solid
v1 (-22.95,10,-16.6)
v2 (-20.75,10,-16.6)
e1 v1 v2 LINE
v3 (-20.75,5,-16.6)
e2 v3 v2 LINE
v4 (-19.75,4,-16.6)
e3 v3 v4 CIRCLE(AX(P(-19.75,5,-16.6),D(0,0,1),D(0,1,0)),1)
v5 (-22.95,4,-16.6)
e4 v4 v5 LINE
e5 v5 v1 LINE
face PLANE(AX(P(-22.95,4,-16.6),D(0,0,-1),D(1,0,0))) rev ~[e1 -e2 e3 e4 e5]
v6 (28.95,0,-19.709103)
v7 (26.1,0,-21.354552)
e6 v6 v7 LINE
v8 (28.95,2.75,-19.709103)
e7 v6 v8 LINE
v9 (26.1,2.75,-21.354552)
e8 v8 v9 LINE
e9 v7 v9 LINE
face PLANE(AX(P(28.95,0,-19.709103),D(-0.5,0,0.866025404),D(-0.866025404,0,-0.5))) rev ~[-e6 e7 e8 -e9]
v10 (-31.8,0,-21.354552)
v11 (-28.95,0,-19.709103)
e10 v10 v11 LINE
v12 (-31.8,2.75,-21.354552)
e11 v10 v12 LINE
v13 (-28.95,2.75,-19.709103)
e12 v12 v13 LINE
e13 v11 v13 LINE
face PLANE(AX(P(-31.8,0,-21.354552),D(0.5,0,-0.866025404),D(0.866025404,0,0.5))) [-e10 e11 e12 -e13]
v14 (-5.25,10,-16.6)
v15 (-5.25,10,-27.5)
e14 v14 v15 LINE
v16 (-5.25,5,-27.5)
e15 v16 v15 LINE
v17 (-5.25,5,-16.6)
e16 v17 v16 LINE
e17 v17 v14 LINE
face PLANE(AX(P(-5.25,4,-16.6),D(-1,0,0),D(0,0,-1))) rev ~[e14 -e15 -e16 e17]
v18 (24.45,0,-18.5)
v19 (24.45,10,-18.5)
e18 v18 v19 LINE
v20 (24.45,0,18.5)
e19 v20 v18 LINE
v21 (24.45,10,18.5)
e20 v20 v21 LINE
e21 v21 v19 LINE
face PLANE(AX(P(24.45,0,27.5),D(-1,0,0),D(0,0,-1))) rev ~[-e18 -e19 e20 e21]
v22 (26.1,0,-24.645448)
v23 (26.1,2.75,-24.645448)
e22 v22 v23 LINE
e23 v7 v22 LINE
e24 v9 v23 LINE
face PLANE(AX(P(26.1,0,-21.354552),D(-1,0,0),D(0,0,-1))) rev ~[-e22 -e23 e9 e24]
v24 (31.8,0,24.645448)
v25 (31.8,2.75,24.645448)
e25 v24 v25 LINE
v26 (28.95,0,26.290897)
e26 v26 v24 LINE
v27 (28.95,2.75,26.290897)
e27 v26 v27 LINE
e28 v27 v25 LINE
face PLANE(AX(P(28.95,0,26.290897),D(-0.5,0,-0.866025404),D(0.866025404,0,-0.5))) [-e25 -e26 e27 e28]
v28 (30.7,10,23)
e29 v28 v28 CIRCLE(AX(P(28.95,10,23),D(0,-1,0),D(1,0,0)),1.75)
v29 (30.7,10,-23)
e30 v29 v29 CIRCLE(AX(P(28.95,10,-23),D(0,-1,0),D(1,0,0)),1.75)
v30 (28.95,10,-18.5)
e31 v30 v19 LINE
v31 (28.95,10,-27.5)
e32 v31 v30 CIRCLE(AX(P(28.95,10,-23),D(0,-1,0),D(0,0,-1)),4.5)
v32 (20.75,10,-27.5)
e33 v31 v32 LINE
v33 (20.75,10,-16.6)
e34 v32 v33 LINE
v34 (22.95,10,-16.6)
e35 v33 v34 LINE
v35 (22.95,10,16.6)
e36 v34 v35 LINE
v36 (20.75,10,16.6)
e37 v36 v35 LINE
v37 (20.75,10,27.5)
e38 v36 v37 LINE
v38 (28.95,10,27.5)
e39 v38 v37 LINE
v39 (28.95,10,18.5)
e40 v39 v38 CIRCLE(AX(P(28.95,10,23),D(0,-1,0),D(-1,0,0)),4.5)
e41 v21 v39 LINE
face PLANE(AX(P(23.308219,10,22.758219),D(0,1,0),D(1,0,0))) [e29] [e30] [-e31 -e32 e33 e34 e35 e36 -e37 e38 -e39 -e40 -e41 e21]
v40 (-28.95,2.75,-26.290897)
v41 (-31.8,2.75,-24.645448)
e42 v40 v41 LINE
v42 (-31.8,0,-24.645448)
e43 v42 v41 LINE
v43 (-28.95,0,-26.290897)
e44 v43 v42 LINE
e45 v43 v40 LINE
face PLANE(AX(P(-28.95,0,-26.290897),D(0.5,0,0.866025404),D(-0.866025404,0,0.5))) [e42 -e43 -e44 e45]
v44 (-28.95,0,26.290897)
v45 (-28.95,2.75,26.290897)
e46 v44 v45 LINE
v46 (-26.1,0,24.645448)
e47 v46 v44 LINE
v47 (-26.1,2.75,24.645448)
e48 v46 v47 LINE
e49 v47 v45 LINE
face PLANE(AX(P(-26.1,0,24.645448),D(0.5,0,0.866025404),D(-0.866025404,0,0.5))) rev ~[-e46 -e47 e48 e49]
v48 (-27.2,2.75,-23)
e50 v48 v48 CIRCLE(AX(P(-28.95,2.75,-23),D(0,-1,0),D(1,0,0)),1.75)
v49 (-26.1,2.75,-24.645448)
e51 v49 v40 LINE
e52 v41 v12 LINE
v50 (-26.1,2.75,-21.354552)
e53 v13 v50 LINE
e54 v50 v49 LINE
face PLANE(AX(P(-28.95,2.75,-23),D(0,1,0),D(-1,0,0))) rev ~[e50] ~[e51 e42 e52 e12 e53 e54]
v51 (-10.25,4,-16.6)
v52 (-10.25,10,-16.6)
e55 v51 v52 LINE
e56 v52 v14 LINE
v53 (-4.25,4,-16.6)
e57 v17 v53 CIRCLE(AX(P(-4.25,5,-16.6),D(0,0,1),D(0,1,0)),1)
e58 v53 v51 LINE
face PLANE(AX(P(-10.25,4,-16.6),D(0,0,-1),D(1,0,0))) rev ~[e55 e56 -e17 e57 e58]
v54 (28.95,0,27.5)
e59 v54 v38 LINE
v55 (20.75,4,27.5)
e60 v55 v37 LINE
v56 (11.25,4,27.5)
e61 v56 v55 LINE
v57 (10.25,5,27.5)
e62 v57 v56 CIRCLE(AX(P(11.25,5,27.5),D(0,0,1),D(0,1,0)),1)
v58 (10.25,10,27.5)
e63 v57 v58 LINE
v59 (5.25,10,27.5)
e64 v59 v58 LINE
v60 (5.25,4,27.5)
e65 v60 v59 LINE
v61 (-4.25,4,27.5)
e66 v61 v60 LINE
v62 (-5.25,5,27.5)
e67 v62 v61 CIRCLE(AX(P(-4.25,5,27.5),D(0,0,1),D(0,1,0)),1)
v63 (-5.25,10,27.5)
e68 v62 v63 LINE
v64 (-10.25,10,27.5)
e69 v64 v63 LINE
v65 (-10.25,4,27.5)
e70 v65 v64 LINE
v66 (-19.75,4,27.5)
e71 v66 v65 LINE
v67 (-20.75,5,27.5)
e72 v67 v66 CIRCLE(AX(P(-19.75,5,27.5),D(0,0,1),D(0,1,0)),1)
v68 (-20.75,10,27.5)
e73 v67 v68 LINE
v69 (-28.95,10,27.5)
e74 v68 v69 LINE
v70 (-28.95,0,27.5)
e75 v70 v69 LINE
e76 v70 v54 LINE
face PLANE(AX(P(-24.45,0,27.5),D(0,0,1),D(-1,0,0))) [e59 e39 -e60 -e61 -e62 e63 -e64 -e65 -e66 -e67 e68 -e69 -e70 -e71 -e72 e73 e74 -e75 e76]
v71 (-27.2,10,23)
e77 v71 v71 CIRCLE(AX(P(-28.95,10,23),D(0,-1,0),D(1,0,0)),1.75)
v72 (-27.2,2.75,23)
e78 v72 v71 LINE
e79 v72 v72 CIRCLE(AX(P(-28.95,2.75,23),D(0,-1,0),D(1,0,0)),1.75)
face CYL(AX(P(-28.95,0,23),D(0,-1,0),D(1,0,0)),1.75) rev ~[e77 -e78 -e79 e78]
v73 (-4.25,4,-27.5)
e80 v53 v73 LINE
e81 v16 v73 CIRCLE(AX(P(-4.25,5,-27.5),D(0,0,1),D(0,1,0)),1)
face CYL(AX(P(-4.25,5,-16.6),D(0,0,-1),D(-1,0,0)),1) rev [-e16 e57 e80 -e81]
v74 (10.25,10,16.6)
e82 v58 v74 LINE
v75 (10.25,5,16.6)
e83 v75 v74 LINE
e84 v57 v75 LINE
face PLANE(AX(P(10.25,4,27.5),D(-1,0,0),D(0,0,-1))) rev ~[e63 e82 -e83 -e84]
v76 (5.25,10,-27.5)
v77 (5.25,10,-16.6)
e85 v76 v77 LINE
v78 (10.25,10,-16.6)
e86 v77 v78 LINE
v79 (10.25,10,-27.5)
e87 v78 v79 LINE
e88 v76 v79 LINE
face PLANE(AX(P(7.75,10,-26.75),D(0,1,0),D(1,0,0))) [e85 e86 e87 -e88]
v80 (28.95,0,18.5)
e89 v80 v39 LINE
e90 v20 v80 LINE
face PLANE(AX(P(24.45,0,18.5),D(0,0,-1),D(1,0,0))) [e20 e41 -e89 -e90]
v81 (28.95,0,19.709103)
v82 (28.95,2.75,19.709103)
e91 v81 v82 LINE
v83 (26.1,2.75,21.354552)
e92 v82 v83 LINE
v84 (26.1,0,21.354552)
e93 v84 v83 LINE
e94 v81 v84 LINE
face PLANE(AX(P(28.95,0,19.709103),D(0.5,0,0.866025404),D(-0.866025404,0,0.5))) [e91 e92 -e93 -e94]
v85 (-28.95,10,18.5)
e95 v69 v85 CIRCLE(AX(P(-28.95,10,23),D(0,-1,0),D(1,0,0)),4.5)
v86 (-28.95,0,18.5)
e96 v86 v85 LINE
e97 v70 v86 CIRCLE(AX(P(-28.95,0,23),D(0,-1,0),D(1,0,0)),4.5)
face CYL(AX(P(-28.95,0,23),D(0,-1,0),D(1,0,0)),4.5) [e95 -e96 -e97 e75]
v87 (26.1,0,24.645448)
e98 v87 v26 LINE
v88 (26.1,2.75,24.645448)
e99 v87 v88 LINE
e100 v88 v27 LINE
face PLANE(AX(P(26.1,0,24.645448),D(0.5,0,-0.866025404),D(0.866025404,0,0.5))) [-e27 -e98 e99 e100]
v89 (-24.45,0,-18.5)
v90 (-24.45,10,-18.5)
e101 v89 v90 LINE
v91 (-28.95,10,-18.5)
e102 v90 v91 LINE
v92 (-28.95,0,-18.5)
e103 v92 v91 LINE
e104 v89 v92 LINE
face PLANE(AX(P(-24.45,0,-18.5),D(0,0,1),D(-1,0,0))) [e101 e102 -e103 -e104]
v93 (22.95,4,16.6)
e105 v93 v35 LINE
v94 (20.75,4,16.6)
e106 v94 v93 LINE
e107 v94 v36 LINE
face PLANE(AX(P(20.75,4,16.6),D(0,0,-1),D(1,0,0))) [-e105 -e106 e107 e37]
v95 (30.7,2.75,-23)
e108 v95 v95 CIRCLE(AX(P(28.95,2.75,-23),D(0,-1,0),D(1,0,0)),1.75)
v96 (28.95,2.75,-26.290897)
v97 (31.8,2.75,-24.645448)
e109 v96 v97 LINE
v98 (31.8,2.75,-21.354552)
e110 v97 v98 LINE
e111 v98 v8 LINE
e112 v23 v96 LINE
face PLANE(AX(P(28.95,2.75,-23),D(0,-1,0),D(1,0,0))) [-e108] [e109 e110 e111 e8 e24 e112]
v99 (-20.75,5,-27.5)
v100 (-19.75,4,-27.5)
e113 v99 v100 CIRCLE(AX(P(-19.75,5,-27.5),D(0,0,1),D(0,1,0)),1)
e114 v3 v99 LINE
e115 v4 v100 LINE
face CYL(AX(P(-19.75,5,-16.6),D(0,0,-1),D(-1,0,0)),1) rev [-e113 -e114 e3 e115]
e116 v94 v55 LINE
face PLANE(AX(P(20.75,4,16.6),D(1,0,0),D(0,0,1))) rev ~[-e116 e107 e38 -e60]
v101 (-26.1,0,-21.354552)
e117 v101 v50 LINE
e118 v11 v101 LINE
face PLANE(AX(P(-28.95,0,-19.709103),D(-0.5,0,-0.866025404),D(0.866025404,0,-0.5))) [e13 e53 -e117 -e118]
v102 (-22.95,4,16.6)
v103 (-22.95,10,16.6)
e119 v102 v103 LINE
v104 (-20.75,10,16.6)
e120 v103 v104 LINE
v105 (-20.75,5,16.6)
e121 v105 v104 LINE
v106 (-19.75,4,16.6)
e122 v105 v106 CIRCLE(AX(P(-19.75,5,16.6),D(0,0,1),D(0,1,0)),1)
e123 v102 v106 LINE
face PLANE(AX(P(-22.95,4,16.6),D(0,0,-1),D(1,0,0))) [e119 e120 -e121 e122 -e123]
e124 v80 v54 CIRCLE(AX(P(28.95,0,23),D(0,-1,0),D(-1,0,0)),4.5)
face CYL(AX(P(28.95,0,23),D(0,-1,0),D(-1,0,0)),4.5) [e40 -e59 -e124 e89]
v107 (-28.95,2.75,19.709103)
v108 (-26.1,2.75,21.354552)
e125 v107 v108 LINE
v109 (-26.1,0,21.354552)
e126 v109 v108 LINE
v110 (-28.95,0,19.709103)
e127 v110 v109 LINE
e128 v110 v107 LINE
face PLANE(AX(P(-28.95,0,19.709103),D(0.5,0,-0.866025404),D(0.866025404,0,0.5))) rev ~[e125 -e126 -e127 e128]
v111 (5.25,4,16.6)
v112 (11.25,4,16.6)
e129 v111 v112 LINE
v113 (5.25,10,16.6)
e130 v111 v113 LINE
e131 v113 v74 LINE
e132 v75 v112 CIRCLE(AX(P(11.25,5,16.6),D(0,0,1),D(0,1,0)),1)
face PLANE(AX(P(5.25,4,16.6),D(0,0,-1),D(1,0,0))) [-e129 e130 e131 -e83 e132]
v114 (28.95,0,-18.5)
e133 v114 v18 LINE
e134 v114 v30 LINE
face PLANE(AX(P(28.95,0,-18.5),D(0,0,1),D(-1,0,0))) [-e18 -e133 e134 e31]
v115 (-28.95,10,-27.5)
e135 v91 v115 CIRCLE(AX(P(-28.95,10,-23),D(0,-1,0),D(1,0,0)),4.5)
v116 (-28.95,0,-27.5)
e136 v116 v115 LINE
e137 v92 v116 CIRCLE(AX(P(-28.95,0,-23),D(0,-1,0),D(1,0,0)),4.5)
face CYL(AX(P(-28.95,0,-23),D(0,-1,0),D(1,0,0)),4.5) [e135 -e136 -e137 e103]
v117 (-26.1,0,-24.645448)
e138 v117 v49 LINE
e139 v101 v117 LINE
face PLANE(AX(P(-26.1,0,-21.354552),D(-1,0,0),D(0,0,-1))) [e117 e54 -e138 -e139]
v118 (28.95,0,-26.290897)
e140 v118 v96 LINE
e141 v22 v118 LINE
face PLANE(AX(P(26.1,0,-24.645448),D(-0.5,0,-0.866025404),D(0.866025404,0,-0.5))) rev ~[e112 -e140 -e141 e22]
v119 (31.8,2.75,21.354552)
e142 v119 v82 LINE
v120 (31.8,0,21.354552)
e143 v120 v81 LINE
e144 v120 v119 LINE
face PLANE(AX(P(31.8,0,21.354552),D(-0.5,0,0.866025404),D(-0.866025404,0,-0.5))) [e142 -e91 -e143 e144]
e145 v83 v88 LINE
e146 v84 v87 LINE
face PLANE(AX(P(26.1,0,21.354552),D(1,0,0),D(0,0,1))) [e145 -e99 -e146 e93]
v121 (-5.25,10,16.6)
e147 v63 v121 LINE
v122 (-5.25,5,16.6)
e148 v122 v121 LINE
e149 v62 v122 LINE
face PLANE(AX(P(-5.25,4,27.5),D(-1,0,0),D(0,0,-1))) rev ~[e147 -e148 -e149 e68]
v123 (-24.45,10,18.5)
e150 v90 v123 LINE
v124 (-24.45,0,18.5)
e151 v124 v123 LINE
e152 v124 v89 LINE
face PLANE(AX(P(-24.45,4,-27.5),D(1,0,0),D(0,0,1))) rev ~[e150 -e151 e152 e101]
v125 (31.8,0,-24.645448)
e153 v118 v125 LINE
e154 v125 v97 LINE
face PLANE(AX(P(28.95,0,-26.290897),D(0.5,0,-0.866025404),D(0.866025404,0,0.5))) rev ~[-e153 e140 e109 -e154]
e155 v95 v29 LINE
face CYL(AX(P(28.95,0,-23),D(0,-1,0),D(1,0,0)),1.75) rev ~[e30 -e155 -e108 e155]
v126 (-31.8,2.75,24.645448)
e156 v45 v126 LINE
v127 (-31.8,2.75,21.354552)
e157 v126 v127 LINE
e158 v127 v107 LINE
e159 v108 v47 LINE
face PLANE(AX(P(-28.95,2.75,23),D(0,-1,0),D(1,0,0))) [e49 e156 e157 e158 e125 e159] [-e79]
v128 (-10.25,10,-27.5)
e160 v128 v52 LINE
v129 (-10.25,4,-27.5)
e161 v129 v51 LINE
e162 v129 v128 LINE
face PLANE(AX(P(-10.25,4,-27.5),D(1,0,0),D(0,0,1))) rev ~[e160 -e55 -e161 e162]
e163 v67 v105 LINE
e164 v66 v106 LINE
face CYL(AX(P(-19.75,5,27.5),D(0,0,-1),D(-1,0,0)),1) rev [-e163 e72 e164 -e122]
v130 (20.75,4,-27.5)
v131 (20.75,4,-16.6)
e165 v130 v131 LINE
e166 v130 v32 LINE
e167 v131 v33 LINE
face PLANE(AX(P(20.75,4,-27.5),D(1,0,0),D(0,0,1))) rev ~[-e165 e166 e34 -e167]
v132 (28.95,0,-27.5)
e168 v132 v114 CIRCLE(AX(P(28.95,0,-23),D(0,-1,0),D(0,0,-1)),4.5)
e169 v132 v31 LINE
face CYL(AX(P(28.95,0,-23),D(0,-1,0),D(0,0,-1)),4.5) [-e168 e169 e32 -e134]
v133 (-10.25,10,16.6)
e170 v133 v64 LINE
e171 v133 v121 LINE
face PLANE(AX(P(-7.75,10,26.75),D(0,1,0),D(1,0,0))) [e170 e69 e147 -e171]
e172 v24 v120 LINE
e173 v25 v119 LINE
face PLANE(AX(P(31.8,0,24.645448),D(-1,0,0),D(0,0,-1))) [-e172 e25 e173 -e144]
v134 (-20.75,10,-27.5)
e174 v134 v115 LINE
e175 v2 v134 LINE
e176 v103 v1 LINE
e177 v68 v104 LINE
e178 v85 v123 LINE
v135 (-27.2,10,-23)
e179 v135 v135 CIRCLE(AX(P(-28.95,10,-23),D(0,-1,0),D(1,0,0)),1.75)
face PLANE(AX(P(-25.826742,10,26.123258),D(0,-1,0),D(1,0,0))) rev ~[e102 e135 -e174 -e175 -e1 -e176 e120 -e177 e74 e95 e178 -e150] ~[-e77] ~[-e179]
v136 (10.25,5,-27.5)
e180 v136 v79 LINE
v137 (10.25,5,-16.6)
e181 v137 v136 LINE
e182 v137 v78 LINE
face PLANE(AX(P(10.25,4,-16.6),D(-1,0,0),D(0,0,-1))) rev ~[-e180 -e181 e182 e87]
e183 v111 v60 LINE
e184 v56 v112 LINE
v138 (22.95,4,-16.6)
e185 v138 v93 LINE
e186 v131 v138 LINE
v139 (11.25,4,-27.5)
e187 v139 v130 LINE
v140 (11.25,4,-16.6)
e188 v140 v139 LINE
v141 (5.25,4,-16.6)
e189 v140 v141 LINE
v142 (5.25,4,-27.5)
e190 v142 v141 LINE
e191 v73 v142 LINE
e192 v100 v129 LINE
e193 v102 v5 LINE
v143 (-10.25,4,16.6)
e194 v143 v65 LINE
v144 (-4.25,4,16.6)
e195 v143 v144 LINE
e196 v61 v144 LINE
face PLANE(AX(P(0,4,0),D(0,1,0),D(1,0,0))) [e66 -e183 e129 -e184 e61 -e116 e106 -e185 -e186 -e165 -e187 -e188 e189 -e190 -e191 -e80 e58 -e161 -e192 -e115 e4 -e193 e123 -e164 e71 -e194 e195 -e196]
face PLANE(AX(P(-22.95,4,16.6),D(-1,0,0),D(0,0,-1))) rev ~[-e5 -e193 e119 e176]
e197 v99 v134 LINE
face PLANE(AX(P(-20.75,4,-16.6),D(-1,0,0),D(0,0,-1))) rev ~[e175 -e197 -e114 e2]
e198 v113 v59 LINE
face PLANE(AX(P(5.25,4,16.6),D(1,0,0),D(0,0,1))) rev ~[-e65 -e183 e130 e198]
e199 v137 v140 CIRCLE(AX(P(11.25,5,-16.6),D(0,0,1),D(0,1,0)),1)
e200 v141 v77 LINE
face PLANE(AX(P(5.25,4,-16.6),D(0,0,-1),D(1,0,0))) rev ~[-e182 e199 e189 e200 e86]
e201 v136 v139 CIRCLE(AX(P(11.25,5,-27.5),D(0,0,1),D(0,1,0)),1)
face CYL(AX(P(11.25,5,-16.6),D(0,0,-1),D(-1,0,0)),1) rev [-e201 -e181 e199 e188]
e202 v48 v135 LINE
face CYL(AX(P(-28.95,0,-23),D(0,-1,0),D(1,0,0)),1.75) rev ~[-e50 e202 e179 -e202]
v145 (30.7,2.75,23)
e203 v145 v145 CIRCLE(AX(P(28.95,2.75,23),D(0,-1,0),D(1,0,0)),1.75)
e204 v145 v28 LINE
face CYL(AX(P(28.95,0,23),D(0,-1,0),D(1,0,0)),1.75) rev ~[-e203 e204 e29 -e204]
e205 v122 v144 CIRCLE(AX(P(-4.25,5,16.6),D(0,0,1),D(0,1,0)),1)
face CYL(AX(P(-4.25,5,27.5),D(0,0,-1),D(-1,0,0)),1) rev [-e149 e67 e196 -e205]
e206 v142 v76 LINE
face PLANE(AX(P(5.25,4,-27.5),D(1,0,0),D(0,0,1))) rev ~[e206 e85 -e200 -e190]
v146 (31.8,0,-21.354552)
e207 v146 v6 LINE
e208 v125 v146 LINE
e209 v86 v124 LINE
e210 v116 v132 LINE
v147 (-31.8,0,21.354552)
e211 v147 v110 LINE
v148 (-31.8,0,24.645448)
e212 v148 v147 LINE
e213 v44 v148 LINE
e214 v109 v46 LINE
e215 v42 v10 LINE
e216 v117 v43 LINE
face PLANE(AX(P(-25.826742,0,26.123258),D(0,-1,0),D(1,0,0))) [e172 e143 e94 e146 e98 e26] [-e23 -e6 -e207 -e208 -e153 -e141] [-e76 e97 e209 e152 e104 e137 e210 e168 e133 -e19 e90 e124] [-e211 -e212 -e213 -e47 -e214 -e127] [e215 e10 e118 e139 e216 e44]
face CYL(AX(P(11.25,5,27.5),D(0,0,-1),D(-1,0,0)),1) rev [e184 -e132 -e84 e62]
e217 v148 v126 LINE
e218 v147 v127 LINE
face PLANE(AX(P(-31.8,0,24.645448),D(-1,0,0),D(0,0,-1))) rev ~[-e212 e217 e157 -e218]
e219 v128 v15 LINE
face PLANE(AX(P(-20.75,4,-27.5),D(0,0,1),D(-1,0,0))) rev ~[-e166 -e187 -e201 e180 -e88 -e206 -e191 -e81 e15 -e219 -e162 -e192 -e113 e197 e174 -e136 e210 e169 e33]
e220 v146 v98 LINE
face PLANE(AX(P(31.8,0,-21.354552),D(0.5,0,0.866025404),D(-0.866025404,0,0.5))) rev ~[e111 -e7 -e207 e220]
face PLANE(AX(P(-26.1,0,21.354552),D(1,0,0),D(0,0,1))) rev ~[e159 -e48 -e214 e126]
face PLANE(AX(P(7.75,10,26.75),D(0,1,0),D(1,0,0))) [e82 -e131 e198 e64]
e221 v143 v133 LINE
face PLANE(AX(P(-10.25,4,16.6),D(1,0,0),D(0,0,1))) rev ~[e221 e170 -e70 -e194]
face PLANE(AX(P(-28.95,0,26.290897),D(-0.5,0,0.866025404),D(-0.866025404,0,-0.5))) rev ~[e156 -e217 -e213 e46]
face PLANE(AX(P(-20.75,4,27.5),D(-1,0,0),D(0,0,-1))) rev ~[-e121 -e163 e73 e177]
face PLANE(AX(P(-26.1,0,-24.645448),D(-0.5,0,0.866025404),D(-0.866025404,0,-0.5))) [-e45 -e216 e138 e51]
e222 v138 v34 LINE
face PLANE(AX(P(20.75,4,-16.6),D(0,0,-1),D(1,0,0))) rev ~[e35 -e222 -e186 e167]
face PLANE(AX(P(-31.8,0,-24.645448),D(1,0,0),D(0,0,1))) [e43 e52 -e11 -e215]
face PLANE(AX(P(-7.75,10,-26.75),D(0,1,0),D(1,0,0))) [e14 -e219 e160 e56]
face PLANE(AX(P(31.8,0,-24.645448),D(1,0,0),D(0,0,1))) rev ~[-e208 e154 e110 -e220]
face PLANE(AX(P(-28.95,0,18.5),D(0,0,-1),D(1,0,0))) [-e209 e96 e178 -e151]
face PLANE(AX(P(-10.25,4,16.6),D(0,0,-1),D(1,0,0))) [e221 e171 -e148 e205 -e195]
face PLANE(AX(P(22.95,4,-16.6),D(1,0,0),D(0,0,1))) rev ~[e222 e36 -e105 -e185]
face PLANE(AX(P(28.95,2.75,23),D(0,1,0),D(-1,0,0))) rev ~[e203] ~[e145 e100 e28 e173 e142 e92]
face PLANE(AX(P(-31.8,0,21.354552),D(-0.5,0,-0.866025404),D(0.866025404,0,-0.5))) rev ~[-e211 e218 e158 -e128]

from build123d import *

# Parameters (mm, degrees)
SKETCH1_W           = 48.9
SKETCH1_H           = 55
SKETCH1_W_2         = 45.9
SKETCH1_H_2         = 9.4
SKETCH1_H_3         = 33.2
BOSS_EXTRUDE1_DEPTH = 4
SKETCH2_W           = 1.5
SKETCH2_H           = 33.2
SKETCH2_W_2         = 5
SKETCH2_H_2         = 1.5
SKETCH2_H_3         = 9.4
SKETCH2_W_3         = 2.2
BOSS_EXTRUDE2_DEPTH = 6
SKETCH4_R           = 4.5
SKETCH4_R_2         = 1.75
BOSS_EXTRUDE3_DEPTH = 10
FILLET1_R           = 1
CUT_EXTRUDE1_DEPTH  = 2.75


with BuildPart() as part:
    # Sketch1 → Boss-Extrude1 (new body)
    with BuildSketch(Plane(origin=(0, 0, 0), x_dir=(1, 0, 0), z_dir=(0, 1, 0))):
        Rectangle(SKETCH1_W, SKETCH1_H)
        Polygon((22.95, 26), (22.95, 16.6), (22.95, -16.6), (22.95, -26), (-22.95, -26), (-22.95, -16.6), (-22.95, 16.6), (-22.95, 26), align=None, mode=Mode.SUBTRACT)
        with Locations((0, 21.3)):
            Rectangle(SKETCH1_W_2, SKETCH1_H_2)
        Rectangle(SKETCH1_W_2, SKETCH1_H_3)
        with Locations((0, -21.3)):
            Rectangle(SKETCH1_W_2, SKETCH1_H_2)
    extrude(amount=BOSS_EXTRUDE1_DEPTH)

    # Sketch2 → Boss-Extrude2 (add)
    with BuildSketch(Plane(origin=(0, 4, 0), x_dir=(1, 0, 0), z_dir=(0, 1, 0))):
        Polygon((-24.45, 16.6), (-22.95, 16.6), (-22.95, 26), (-20.75, 26), (-20.75, 27.5), (-24.45, 27.5), align=None)
        with Locations((-23.7, 0)):
            Rectangle(SKETCH2_W, SKETCH2_H)
        Polygon((-22.95, -26), (-22.95, -16.6), (-24.45, -16.6), (-24.45, -27.5), (-20.75, -27.5), (-20.75, -26), align=None)
        with Locations((-7.75, -26.75)):
            Rectangle(SKETCH2_W_2, SKETCH2_H_2)
        with Locations((7.75, -26.75)):
            Rectangle(SKETCH2_W_2, SKETCH2_H_2)
        Polygon((24.45, -16.6), (22.95, -16.6), (22.95, -26), (20.75, -26), (20.75, -27.5), (24.45, -27.5), align=None)
        with Locations((23.7, 0)):
            Rectangle(SKETCH2_W, SKETCH2_H)
        Polygon((22.95, 26), (22.95, 16.6), (24.45, 16.6), (24.45, 27.5), (20.75, 27.5), (20.75, 26), align=None)
        with Locations((7.75, 26.75)):
            Rectangle(SKETCH2_W_2, SKETCH2_H_2)
        with Locations((-7.75, 26.75)):
            Rectangle(SKETCH2_W_2, SKETCH2_H_2)
        with Locations((-7.75, 21.3)):
            Rectangle(SKETCH2_W_2, SKETCH2_H_3)
        with Locations((7.75, 21.3)):
            Rectangle(SKETCH2_W_2, SKETCH2_H_3)
        with Locations((7.75, -21.3)):
            Rectangle(SKETCH2_W_2, SKETCH2_H_3)
        with Locations((-7.75, -21.3)):
            Rectangle(SKETCH2_W_2, SKETCH2_H_3)
        with Locations((-21.85, 21.3)):
            Rectangle(SKETCH2_W_3, SKETCH2_H_3)
        with Locations((21.85, 21.3)):
            Rectangle(SKETCH2_W_3, SKETCH2_H_3)
        with Locations((21.85, -21.3)):
            Rectangle(SKETCH2_W_3, SKETCH2_H_3)
        with Locations((-21.85, -21.3)):
            Rectangle(SKETCH2_W_3, SKETCH2_H_3)
    extrude(amount=BOSS_EXTRUDE2_DEPTH)

    # Sketch4 → Boss-Extrude3 (add)
    with BuildSketch(Plane.XZ):
        with BuildLine():
            Line((-24.45, 27.5), (-28.95, 27.5))
            ThreePointArc((-28.95, 27.5), (-25.768019485, 26.181980515), (-24.45, 23))
            Line((-24.45, 23), (-24.45, 27.5))
        make_face()
        with BuildLine():
            Line((-24.45, 18.5), (-24.45, 23))
            ThreePointArc((-24.45, 23), (-25.768019485, 19.818019485), (-28.95, 18.5))
            Line((-28.95, 18.5), (-24.45, 18.5))
        make_face()
        with Locations((-28.95, 23)):
            Circle(SKETCH4_R)
        with Locations((-28.95, 23)):
            Circle(SKETCH4_R_2, mode=Mode.SUBTRACT)
        with BuildLine():
            ThreePointArc((24.45, 22.999999999), (25.768019484, 26.181980515), (28.95, 27.5))
            Line((28.95, 27.5), (24.45, 27.5))
            Line((24.45, 27.5), (24.45, 22.999999999))
        make_face()
        with Locations((28.95, 23)):
            Circle(SKETCH4_R)
        with Locations((28.95, 23)):
            Circle(SKETCH4_R_2, mode=Mode.SUBTRACT)
        with BuildLine():
            ThreePointArc((28.95, 18.5), (25.768019485, 19.818019484), (24.45, 22.999999999))
            Line((24.45, 22.999999999), (24.45, 18.5))
            Line((24.45, 18.5), (28.95, 18.5))
        make_face()
        with Locations((28.95, -23)):
            Circle(SKETCH4_R)
        with Locations((28.95, -23)):
            Circle(SKETCH4_R_2, mode=Mode.SUBTRACT)
        with BuildLine():
            ThreePointArc((28.95, -27.5), (25.768019485, -26.181980515), (24.45, -23))
            Line((24.45, -23), (24.45, -27.5))
            Line((24.45, -27.5), (28.95, -27.5))
        make_face()
        with BuildLine():
            Line((28.95, -18.5), (24.45, -18.5))
            Line((24.45, -18.5), (24.45, -23))
            ThreePointArc((24.45, -23), (25.768019485, -19.818019485), (28.95, -18.5))
        make_face()
        with BuildLine():
            Line((-24.45, -27.5), (-24.45, -23))
            ThreePointArc((-24.45, -23), (-25.768019485, -26.181980515), (-28.95, -27.5))
            Line((-28.95, -27.5), (-24.45, -27.5))
        make_face()
        with BuildLine():
            Line((-24.45, -23), (-24.45, -18.5))
            Line((-24.45, -18.5), (-28.95, -18.5))
            ThreePointArc((-28.95, -18.5), (-25.768019485, -19.818019485), (-24.45, -23))
        make_face()
        with Locations((-28.95, -23)):
            Circle(SKETCH4_R)
        with Locations((-28.95, -23)):
            Circle(SKETCH4_R_2, mode=Mode.SUBTRACT)
    extrude(amount=-BOSS_EXTRUDE3_DEPTH)

    # Fillet1
    fillet1_edges = [part.edges().sort_by_distance(p)[0] for p in [
        (-5.25, 4, -22.05),
        (10.25, 4, -22.05),
        (10.25, 4, 22.05),
        (-5.25, 4, 22.05),
        (-20.75, 4, -22.05),
        (-20.75, 4, 22.05),
    ]]
    fillet(fillet1_edges, radius=FILLET1_R)

    # Sketch5 → Cut-Extrude1 (cut)
    with BuildSketch(Plane.XZ):
        Polygon((-28.95, 19.709103466), (-26.1, 21.354551733), (-26.1, 24.645448267), (-28.95, 26.290896534), (-31.8, 24.645448267), (-31.8, 21.354551733), align=None)
        Polygon((31.8, 21.354551733), (28.95, 19.709103466), (26.1, 21.354551733), (26.1, 24.645448267), (28.95, 26.290896534), (31.8, 24.645448267), align=None)
        Polygon((31.8, -21.354551733), (28.95, -19.709103466), (26.1, -21.354551733), (26.1, -24.645448267), (28.95, -26.290896534), (31.8, -24.645448267), align=None)
        Polygon((-31.8, -21.354551733), (-28.95, -19.709103466), (-26.1, -21.354551733), (-26.1, -24.645448267), (-28.95, -26.290896534), (-31.8, -24.645448267), align=None)
    extrude(amount=-CUT_EXTRUDE1_DEPTH, mode=Mode.SUBTRACT)


solid = part.part
